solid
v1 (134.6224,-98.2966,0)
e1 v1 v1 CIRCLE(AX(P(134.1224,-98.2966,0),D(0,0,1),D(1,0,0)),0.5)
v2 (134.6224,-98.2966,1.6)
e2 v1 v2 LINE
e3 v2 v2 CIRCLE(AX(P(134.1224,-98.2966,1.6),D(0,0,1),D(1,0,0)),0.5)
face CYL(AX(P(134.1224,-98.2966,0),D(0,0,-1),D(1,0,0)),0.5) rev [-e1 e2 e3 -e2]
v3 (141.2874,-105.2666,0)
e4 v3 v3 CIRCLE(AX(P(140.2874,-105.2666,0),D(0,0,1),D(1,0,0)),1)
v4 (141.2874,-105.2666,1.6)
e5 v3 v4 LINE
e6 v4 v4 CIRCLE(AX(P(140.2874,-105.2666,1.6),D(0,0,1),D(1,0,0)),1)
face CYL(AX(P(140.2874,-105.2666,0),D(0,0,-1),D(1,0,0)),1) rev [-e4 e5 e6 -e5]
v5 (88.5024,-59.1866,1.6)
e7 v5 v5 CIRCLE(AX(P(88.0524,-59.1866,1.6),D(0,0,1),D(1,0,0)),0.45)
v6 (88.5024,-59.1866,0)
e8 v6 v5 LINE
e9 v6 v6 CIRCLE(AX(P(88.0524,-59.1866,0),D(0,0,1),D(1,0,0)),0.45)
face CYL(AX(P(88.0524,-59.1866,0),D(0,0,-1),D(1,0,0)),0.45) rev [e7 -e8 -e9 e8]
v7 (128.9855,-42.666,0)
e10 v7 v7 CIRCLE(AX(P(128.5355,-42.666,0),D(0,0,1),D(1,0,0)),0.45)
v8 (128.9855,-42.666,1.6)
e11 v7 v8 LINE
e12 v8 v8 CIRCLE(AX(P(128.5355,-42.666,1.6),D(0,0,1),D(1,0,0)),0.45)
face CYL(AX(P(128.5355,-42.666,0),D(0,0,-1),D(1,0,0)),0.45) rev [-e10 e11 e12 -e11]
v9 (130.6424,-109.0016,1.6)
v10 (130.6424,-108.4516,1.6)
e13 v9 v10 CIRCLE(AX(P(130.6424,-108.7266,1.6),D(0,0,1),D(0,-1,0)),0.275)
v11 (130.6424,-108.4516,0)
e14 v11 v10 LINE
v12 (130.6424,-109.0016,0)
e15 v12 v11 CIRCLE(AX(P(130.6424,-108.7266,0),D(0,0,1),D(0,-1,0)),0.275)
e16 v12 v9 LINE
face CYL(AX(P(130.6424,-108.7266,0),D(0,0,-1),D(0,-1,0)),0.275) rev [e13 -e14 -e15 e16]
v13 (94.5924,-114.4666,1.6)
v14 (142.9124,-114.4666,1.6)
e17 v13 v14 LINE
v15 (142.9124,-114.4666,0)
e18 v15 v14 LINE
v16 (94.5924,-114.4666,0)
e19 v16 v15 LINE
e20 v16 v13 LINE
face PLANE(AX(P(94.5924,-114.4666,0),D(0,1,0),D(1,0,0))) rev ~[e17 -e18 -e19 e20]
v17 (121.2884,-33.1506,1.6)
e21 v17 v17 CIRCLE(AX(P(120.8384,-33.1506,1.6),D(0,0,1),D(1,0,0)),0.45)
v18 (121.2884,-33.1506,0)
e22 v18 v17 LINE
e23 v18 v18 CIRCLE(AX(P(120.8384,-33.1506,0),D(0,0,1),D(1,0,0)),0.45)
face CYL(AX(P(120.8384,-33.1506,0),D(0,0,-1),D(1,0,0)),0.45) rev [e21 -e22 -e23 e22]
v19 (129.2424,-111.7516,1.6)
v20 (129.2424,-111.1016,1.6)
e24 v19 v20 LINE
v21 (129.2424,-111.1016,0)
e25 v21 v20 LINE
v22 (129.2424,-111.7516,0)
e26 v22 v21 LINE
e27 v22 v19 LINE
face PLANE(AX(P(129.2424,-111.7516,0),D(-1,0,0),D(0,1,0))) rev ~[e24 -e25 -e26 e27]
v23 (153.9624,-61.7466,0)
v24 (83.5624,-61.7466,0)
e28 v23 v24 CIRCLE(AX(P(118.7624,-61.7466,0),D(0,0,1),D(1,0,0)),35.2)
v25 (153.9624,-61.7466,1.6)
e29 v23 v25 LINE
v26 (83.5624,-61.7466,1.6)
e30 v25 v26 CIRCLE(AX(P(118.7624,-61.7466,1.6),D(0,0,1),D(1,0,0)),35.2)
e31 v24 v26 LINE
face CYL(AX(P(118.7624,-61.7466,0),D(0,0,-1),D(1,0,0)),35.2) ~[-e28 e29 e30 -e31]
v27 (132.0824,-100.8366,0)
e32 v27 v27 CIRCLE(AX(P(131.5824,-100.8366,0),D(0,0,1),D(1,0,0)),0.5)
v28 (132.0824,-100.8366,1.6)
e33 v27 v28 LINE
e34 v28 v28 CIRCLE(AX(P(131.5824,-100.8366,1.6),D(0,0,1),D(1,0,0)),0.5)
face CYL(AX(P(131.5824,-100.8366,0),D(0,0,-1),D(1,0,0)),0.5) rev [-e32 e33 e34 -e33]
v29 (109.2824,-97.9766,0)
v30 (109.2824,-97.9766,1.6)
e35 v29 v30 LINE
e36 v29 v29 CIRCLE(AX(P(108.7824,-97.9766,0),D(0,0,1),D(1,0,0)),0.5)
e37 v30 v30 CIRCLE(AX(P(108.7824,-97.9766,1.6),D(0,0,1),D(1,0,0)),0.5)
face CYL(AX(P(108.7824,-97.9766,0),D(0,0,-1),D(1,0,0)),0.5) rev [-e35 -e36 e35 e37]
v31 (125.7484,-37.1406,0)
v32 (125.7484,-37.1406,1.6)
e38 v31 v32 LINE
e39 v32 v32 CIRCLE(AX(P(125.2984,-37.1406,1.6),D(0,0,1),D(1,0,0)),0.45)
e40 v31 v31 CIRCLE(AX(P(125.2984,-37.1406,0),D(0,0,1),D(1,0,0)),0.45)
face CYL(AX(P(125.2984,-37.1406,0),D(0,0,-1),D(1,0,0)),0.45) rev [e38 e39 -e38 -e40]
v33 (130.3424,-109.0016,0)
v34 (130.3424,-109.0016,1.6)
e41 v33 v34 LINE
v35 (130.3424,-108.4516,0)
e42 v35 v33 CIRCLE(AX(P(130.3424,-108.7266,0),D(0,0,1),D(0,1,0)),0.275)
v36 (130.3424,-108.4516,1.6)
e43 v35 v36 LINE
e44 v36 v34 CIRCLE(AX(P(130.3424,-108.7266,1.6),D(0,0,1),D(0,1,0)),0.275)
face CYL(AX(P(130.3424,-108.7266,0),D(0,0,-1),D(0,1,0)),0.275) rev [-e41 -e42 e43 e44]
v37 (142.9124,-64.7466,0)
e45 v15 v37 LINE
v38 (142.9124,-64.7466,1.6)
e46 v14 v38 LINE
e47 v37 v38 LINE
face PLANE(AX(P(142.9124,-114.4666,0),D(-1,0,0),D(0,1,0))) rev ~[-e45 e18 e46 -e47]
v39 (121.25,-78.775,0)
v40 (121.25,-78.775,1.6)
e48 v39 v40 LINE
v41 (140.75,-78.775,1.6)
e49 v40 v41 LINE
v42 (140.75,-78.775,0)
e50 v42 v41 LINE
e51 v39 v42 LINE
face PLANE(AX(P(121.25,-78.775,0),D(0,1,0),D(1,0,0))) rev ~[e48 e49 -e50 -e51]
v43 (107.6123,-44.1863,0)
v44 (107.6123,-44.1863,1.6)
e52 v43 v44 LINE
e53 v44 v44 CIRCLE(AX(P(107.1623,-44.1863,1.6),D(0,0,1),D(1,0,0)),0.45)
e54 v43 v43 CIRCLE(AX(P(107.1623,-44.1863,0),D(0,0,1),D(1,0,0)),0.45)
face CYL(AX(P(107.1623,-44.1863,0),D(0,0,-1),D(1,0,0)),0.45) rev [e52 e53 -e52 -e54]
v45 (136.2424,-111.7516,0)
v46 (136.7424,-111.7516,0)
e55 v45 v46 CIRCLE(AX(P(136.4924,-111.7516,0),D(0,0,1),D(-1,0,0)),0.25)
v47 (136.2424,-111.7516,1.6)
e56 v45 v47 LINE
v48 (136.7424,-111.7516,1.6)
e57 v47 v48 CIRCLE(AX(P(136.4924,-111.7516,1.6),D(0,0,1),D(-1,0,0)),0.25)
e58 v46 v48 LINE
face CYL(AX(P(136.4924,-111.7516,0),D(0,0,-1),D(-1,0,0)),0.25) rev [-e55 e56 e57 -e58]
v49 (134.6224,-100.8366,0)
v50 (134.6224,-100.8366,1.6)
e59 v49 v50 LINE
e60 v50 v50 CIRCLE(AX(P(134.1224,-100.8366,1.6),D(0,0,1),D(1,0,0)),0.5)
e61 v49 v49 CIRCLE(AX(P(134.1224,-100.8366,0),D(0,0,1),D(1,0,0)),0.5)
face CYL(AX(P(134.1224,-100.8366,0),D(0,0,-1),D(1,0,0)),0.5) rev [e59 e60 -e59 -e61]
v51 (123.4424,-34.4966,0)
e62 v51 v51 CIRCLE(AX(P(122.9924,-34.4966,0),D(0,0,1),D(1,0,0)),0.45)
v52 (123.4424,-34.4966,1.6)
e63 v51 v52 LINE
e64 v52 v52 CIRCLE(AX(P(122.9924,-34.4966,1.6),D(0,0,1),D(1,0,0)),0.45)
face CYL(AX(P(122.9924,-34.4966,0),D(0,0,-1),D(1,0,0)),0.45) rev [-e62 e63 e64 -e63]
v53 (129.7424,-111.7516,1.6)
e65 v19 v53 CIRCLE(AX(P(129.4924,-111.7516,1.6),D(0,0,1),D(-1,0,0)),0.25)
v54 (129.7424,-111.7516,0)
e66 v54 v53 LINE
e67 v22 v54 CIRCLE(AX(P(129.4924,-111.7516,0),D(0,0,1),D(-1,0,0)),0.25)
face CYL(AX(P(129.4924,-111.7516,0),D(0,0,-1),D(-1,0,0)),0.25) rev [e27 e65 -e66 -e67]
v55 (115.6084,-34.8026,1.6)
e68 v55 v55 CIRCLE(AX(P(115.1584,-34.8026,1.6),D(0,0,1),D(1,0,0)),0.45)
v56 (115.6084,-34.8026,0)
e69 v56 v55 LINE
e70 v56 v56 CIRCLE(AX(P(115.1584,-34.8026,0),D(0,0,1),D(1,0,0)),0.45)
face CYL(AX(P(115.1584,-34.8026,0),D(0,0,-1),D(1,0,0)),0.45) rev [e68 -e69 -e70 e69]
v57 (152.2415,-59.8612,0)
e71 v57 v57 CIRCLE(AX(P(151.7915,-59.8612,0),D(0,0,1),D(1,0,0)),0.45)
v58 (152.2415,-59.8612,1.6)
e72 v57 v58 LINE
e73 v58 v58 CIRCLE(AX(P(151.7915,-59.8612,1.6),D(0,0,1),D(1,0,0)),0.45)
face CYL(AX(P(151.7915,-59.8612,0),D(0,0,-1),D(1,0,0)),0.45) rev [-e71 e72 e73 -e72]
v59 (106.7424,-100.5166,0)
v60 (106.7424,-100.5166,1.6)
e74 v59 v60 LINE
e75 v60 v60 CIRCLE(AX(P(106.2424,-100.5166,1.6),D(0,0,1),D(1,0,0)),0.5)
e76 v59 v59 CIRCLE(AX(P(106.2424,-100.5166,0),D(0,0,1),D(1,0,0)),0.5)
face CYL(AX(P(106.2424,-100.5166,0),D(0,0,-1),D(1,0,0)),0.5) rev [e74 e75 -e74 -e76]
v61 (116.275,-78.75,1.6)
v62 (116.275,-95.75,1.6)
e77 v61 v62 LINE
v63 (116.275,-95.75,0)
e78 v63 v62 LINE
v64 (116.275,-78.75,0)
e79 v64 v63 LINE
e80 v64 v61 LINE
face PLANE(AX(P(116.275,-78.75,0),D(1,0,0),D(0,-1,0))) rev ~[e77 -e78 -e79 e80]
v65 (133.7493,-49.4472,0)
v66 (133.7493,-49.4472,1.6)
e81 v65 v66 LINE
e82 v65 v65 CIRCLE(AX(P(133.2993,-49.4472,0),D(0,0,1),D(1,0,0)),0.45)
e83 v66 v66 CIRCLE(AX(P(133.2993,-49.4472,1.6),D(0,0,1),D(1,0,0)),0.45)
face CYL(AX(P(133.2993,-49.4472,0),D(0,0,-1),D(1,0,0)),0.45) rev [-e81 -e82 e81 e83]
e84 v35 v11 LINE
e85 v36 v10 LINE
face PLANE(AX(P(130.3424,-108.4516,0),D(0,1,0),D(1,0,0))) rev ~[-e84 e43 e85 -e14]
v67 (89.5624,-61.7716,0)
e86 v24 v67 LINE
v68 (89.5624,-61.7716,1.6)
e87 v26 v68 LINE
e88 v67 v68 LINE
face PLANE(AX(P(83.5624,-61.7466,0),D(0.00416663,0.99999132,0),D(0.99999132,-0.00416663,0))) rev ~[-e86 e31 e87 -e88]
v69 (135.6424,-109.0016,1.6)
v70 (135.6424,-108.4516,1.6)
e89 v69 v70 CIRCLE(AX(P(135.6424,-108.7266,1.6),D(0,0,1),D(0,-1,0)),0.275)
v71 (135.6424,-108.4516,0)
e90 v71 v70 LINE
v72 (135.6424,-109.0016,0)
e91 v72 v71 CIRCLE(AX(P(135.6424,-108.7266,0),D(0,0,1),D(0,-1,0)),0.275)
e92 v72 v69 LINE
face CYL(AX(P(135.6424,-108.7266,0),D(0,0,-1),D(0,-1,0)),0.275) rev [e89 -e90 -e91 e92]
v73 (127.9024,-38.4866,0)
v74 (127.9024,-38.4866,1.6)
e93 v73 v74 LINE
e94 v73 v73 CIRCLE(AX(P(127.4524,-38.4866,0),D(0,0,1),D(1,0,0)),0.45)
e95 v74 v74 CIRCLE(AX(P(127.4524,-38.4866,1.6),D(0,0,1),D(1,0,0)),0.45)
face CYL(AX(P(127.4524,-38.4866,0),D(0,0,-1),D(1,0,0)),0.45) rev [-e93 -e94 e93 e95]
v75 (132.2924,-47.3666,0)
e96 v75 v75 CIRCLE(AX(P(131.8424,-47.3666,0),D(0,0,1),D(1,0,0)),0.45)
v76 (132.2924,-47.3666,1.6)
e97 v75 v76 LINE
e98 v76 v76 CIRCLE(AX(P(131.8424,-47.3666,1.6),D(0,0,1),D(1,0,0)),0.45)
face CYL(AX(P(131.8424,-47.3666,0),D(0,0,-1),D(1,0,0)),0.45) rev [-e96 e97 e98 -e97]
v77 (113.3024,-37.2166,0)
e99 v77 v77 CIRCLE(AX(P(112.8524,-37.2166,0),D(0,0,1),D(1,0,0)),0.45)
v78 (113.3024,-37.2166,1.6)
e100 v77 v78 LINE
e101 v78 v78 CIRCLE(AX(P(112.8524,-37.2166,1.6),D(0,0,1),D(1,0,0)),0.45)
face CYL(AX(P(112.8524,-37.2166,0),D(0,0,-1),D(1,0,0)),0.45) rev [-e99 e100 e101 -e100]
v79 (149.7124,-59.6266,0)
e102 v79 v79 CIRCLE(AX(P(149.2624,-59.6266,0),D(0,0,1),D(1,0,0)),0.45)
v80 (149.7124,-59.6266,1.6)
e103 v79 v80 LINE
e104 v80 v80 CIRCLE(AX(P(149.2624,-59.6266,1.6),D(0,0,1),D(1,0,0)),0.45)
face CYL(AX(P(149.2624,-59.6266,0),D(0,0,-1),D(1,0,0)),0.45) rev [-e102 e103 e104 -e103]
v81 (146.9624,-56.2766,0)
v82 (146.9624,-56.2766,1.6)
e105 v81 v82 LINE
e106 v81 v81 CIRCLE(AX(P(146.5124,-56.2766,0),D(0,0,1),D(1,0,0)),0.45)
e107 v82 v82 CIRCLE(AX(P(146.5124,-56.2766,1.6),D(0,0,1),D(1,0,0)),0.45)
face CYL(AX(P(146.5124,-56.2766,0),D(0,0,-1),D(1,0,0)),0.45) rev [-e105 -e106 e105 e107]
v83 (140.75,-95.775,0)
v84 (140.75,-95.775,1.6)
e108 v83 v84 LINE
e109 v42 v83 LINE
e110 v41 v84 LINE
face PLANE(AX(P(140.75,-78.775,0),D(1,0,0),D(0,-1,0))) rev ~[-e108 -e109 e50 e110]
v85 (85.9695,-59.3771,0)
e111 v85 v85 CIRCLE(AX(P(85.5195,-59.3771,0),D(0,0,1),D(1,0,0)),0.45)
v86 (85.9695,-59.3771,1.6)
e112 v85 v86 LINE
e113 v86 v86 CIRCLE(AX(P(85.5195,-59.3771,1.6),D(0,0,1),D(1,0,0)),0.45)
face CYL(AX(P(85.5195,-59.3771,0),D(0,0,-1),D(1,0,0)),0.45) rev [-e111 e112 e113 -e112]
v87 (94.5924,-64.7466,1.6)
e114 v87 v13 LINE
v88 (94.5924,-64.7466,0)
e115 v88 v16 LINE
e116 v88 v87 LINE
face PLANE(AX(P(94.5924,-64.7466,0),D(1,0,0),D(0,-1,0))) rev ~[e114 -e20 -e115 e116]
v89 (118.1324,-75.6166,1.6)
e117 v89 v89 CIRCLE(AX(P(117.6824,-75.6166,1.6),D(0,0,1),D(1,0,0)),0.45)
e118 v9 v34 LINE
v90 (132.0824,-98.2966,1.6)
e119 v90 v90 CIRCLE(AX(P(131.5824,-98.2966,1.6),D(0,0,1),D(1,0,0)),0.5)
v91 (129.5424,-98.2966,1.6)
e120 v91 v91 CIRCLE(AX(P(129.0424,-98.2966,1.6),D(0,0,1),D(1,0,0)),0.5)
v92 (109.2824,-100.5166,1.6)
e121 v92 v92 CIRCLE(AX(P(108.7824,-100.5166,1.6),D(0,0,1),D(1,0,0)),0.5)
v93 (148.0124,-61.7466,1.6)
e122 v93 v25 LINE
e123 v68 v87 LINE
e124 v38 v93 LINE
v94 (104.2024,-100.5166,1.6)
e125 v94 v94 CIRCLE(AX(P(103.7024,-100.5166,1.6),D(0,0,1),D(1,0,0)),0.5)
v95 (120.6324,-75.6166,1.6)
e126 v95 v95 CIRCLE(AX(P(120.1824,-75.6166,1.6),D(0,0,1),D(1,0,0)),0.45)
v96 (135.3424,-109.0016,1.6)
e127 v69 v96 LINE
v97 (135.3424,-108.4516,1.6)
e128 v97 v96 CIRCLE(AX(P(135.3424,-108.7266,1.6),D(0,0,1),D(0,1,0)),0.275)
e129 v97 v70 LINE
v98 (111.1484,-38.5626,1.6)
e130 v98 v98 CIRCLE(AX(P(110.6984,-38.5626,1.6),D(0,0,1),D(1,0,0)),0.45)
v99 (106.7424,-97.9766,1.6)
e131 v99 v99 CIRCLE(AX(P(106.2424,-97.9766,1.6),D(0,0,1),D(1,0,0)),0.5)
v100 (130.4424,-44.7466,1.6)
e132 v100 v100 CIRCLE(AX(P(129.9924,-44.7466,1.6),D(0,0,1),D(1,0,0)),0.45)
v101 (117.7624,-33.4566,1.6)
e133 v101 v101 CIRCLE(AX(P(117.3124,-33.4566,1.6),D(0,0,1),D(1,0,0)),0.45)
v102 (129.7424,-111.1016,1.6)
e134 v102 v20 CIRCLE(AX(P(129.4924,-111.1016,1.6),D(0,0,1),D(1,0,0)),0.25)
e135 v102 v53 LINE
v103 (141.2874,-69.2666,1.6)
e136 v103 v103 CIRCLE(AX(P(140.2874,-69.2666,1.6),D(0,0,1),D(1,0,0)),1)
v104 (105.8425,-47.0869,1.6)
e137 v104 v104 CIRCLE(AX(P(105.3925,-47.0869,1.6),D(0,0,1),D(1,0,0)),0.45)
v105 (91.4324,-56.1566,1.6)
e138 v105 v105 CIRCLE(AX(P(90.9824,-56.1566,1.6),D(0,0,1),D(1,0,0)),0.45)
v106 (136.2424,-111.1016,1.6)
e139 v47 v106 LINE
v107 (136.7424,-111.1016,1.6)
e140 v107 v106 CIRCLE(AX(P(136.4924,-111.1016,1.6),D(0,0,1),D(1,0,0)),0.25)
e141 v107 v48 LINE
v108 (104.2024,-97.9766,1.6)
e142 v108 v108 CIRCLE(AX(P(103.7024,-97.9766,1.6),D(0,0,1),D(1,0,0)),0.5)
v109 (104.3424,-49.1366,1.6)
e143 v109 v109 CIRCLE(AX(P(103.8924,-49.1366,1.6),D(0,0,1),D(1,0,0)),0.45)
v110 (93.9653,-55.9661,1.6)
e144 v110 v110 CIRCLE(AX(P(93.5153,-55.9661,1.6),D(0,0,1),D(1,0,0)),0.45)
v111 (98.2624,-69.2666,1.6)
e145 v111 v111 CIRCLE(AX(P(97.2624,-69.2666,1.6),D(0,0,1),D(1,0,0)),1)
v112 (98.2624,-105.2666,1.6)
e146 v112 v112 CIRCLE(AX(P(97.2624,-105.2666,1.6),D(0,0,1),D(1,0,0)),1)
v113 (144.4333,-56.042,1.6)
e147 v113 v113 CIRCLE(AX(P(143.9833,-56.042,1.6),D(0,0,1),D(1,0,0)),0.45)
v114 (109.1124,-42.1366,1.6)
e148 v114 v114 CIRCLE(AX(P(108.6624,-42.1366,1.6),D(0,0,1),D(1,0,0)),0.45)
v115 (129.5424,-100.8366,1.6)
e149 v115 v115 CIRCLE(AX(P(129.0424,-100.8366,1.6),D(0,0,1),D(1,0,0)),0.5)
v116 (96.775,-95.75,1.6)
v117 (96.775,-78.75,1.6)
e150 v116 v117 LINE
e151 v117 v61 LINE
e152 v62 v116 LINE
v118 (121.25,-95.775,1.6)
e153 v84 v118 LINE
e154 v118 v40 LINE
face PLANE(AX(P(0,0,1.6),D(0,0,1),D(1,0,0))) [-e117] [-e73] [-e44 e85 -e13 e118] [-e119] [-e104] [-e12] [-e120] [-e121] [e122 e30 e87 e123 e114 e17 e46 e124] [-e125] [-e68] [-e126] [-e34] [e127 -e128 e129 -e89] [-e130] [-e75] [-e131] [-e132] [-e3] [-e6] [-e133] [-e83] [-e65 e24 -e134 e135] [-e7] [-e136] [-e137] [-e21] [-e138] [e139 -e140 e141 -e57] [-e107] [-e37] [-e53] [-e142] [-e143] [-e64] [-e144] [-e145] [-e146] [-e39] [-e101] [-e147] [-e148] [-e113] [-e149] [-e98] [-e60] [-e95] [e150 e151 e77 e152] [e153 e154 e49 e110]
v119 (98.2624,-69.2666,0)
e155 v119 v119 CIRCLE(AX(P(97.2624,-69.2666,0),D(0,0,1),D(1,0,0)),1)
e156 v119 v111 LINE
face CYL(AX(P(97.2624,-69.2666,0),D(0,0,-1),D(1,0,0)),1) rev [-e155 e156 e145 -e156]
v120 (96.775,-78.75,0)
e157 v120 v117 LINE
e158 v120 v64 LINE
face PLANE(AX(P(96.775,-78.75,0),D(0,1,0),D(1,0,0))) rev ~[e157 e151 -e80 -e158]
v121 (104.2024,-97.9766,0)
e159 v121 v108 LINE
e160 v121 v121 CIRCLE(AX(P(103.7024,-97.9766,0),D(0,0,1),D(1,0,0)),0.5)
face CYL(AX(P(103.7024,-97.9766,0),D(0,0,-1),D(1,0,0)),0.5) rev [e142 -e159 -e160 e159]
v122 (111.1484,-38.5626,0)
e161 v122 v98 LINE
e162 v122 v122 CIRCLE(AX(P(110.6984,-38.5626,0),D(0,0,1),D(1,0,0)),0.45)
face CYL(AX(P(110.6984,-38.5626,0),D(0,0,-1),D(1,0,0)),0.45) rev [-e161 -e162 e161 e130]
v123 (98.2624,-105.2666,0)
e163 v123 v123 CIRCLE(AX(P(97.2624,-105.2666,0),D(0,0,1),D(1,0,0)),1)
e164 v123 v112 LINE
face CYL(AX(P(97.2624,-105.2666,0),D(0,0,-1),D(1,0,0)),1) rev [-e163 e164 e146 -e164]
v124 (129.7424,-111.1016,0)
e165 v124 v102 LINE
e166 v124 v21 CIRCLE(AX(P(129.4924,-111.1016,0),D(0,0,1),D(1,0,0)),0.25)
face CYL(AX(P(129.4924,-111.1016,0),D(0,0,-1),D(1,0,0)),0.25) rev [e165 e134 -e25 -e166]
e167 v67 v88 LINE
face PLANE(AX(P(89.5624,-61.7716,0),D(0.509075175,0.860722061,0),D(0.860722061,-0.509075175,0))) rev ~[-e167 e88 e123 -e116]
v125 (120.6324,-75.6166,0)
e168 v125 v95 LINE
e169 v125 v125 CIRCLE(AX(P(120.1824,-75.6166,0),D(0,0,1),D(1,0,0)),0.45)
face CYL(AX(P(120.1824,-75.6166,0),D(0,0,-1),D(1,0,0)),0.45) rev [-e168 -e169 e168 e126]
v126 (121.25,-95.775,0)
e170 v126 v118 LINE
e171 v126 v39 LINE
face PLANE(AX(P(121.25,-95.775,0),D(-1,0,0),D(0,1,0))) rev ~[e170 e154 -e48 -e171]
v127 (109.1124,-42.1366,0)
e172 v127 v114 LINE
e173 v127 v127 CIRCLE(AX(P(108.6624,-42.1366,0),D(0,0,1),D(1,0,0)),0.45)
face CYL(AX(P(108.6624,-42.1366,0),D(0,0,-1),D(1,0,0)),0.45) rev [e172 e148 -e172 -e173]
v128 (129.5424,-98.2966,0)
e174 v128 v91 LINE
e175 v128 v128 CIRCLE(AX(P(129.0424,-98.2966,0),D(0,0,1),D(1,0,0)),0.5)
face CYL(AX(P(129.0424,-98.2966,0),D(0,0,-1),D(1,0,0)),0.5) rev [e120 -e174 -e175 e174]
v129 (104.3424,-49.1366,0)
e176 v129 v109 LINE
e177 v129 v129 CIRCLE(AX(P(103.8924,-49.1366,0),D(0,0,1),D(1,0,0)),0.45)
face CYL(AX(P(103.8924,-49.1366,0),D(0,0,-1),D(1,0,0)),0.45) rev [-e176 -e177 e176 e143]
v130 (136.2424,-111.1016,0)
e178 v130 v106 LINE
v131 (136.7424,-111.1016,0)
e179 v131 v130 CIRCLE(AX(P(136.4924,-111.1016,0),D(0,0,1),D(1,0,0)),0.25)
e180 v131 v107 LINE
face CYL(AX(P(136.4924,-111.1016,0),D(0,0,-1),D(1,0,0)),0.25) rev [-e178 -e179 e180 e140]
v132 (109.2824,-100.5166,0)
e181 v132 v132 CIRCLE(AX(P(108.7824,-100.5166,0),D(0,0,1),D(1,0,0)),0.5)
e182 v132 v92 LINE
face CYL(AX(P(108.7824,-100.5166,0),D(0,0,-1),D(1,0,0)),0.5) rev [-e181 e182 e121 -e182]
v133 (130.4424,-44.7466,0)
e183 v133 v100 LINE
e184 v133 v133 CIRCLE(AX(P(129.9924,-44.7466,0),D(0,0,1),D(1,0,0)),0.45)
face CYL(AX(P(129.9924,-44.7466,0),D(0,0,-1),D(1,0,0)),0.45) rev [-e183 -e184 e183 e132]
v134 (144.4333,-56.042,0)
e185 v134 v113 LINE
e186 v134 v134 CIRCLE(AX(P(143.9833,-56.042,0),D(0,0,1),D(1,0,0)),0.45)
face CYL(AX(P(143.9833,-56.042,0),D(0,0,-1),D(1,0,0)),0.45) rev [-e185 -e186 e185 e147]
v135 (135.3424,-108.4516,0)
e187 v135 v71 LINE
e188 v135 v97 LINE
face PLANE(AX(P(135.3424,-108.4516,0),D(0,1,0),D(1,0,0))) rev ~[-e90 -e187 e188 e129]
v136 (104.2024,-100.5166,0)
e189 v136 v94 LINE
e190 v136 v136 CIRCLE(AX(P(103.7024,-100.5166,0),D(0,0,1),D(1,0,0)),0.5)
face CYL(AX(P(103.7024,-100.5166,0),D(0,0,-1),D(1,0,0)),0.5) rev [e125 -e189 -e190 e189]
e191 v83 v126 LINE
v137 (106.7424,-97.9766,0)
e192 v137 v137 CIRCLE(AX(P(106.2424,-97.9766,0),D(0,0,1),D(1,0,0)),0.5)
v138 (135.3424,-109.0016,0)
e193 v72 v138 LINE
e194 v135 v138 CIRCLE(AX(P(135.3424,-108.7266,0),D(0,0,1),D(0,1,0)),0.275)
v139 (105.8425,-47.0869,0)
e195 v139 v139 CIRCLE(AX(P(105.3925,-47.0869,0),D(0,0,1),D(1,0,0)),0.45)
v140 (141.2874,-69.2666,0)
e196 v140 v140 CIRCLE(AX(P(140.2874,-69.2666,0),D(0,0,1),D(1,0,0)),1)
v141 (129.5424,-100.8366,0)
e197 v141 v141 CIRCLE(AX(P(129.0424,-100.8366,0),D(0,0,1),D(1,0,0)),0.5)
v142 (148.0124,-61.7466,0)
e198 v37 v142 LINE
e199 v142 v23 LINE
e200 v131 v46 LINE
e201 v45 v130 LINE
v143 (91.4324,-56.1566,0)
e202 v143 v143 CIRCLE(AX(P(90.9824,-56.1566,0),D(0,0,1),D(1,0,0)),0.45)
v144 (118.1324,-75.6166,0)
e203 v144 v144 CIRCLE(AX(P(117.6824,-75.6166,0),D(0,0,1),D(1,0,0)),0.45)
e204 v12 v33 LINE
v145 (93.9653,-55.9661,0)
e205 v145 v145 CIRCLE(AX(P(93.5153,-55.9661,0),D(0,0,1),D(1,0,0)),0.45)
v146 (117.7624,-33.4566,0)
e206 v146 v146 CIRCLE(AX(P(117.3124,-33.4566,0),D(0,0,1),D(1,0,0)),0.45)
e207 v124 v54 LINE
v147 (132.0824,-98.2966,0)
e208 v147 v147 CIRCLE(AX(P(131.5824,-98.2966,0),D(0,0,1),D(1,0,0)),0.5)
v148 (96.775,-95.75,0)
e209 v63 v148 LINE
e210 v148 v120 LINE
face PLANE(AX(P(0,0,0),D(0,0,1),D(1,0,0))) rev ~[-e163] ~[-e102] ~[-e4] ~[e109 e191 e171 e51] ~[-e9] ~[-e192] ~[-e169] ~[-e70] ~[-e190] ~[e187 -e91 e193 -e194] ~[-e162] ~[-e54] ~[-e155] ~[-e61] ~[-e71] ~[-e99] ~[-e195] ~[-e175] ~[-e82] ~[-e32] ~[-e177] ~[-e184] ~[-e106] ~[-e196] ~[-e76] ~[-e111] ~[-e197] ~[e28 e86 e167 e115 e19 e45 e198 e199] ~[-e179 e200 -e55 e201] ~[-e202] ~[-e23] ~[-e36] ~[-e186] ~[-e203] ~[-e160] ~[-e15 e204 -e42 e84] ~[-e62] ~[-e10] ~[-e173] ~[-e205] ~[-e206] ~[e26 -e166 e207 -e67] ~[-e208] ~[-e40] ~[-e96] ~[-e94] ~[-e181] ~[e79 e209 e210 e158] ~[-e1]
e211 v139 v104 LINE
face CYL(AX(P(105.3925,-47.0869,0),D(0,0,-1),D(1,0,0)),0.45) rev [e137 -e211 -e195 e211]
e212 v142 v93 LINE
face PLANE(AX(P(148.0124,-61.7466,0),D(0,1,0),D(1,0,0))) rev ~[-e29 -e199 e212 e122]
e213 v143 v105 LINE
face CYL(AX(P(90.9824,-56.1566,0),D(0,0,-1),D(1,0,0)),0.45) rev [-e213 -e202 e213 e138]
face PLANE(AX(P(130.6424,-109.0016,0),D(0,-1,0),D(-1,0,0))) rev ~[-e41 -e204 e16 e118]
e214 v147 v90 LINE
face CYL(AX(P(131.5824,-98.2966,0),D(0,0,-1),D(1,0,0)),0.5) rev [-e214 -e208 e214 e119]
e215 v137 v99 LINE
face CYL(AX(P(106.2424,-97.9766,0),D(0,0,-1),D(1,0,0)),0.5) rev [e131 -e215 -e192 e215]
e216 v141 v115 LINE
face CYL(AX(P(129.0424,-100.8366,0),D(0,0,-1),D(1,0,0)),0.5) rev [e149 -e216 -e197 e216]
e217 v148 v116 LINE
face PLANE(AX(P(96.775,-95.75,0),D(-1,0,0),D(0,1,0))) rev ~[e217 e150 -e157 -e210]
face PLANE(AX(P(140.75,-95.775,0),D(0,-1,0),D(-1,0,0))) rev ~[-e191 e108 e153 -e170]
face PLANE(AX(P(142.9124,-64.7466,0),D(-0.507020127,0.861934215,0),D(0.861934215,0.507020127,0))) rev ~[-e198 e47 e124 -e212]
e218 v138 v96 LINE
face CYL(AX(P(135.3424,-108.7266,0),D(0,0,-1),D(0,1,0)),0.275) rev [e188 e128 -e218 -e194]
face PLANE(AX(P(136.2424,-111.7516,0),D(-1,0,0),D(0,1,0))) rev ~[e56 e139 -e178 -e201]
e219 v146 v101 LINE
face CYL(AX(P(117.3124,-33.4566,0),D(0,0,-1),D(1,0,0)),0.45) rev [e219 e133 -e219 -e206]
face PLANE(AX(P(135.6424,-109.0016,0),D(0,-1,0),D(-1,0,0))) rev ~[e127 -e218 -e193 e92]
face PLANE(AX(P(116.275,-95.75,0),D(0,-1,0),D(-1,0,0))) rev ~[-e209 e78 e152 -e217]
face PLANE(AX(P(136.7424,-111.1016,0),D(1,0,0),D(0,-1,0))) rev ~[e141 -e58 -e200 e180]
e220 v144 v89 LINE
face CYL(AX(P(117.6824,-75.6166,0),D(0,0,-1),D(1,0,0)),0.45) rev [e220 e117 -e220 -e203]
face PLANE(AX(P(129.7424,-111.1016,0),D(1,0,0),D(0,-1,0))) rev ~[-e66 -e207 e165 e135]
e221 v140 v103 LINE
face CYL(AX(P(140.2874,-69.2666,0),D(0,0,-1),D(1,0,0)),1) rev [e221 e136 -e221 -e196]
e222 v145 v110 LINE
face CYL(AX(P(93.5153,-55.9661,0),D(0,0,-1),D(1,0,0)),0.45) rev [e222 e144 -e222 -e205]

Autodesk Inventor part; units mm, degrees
ref_plane "YZ Plane" through (0, 0, 0) normal (1, 0, 0) x (0, 1, 0)
ref_plane "XZ Plane" through (0, 0, 0) normal (0, 1, 0) x (-1, 0, 0)
ref_plane "XY Plane" through (0, 0, 0) normal (0, 0, 1) x (1, 0, 0)
sketch "Sketch1" plane through (0, 0, 0) normal (0, 0, 1) x (1, 0, 0)
  line L0 (83.5624, -61.7466) -> (89.5624, -61.7716)
  line L1 (89.5624, -61.7716) -> (94.5924, -64.7466)
  line L2 (94.5924, -64.7466) -> (94.5924, -114.4666)
  line L3 (94.5924, -114.4666) -> (142.9124, -114.4666)
  line L4 (142.9124, -114.4666) -> (142.9124, -64.7466)
  line L5 (142.9124, -64.7466) -> (148.0124, -61.7466)
  line L6 (148.0124, -61.7466) -> (153.9624, -61.7466)
  arc A0 (153.9624, -61.7466) -> (83.5624, -61.7466) centre (118.7624, -61.7466) ccw
  line L7 (96.775, -95.75) -> (96.775, -78.75)
  line L8 (96.775, -78.75) -> (116.275, -78.75)
  line L9 (116.275, -78.75) -> (116.275, -95.75)
  line L10 (116.275, -95.75) -> (96.775, -95.75)
  line L11 (121.25, -95.775) -> (121.25, -78.775)
  line L12 (121.25, -78.775) -> (140.75, -78.775)
  line L13 (140.75, -78.775) -> (140.75, -95.775)
  line L14 (140.75, -95.775) -> (121.25, -95.775)
  line L15 (130.3424, -108.4516) -> (130.6424, -108.4516)
  arc A1 (130.6424, -109.0016) -> (130.6424, -108.4516) centre (130.6424, -108.7266) ccw
  line L16 (130.6424, -109.0016) -> (130.3424, -109.0016)
  arc A2 (130.3424, -108.4516) -> (130.3424, -109.0016) centre (130.3424, -108.7266) ccw
  line L17 (135.3424, -108.4516) -> (135.6424, -108.4516)
  arc A3 (135.6424, -109.0016) -> (135.6424, -108.4516) centre (135.6424, -108.7266) ccw
  line L18 (135.6424, -109.0016) -> (135.3424, -109.0016)
  arc A4 (135.3424, -108.4516) -> (135.3424, -109.0016) centre (135.3424, -108.7266) ccw
  line L19 (129.7424, -111.1016) -> (129.7424, -111.7516)
  arc A5 (129.2424, -111.7516) -> (129.7424, -111.7516) centre (129.4924, -111.7516) ccw
  line L20 (129.2424, -111.7516) -> (129.2424, -111.1016)
  arc A6 (129.7424, -111.1016) -> (129.2424, -111.1016) centre (129.4924, -111.1016) ccw
  line L21 (136.7424, -111.1016) -> (136.7424, -111.7516)
  arc A7 (136.2424, -111.7516) -> (136.7424, -111.7516) centre (136.4924, -111.7516) ccw
  line L22 (136.2424, -111.7516) -> (136.2424, -111.1016)
  arc A8 (136.7424, -111.1016) -> (136.2424, -111.1016) centre (136.4924, -111.1016) ccw
  circle A9 centre (88.0524, -59.1866) radius 0.45
  circle A10 centre (85.5195, -59.3771) radius 0.45
  circle A11 centre (112.8524, -37.2166) radius 0.45
  circle A12 centre (110.6984, -38.5626) radius 0.45
  circle A13 centre (127.4524, -38.4866) radius 0.45
  circle A14 centre (125.2984, -37.1406) radius 0.45
  circle A15 centre (129.9924, -44.7466) radius 0.45
  circle A16 centre (128.5355, -42.666) radius 0.45
  circle A17 centre (146.5124, -56.2766) radius 0.45
  circle A18 centre (143.9833, -56.042) radius 0.45
  circle A19 centre (117.3124, -33.4566) radius 0.45
  circle A20 centre (115.1584, -34.8026) radius 0.45
  circle A21 centre (105.3925, -47.0869) radius 0.45
  circle A22 centre (103.8924, -49.1366) radius 0.45
  circle A23 centre (133.2993, -49.4472) radius 0.45
  circle A24 centre (131.8424, -47.3666) radius 0.45
  circle A25 centre (122.9924, -34.4966) radius 0.45
  circle A26 centre (120.8384, -33.1506) radius 0.45
  circle A27 centre (151.7915, -59.8612) radius 0.45
  circle A28 centre (149.2624, -59.6266) radius 0.45
  circle A29 centre (93.5153, -55.9661) radius 0.45
  circle A30 centre (90.9824, -56.1566) radius 0.45
  circle A31 centre (108.6624, -42.1366) radius 0.45
  circle A32 centre (107.1623, -44.1863) radius 0.45
  circle A33 centre (25.5324, -58.5866) radius 0.5
  circle A34 centre (22.9924, -58.5866) radius 0.5
  circle A35 centre (20.4524, -58.5866) radius 0.5
  circle A36 centre (17.9124, -58.5866) radius 0.5
  circle A37 centre (108.7824, -100.5166) radius 0.5
  circle A38 centre (108.7824, -97.9766) radius 0.5
  circle A39 centre (106.2424, -100.5166) radius 0.5
  circle A40 centre (106.2424, -97.9766) radius 0.5
  circle A41 centre (103.7024, -100.5166) radius 0.5
  circle A42 centre (103.7024, -97.9766) radius 0.5
  circle A43 centre (97.2624, -105.2666) radius 1
  circle A44 centre (97.2624, -69.2666) radius 1
  circle A45 centre (117.6824, -75.6166) radius 0.45
  circle A46 centre (120.1824, -75.6166) radius 0.45
  circle A47 centre (121.7624, -124.4716) radius 0.381
  circle A48 centre (118.7624, -124.4716) radius 0.381
  circle A49 centre (115.7624, -124.4716) radius 0.381
  circle A50 centre (140.2874, -69.2666) radius 1
  circle A51 centre (140.2874, -105.2666) radius 1
  circle A52 centre (129.0424, -98.2966) radius 0.5
  circle A53 centre (129.0424, -100.8366) radius 0.5
  circle A54 centre (131.5824, -98.2966) radius 0.5
  circle A55 centre (131.5824, -100.8366) radius 0.5
  circle A56 centre (134.1224, -98.2966) radius 0.5
  circle A57 centre (134.1224, -100.8366) radius 0.5
extrude "Micromouse1.2.kicad_pcb_Outline" add sketch "Sketch1" along normal blind 1.6
sketch "Sketch2" plane through (25.5324, -58.5866, 1.6) normal (0, 0, 1) x (1, 0, 0)
  circle A0 centre (-7.62, 0) radius 0.5 projected
  circle A1 centre (-5.08, 0) radius 0.5 projected
  circle A2 centre (-2.54, 0) radius 0.5 projected
  circle A3 centre (0, 0) radius 0.5 projected
  circle A4 centre (90.23, -65.885) radius 0.381 projected
  circle A5 centre (93.23, -65.885) radius 0.381 projected
  circle A6 centre (96.23, -65.885) radius 0.381 projected
  point P0 (-25.5324, 58.5866)
extrude "Extrusion2" cut sketch "Sketch2" against normal through all
properties part number "Micromouse1.2.kicad_pcb"
